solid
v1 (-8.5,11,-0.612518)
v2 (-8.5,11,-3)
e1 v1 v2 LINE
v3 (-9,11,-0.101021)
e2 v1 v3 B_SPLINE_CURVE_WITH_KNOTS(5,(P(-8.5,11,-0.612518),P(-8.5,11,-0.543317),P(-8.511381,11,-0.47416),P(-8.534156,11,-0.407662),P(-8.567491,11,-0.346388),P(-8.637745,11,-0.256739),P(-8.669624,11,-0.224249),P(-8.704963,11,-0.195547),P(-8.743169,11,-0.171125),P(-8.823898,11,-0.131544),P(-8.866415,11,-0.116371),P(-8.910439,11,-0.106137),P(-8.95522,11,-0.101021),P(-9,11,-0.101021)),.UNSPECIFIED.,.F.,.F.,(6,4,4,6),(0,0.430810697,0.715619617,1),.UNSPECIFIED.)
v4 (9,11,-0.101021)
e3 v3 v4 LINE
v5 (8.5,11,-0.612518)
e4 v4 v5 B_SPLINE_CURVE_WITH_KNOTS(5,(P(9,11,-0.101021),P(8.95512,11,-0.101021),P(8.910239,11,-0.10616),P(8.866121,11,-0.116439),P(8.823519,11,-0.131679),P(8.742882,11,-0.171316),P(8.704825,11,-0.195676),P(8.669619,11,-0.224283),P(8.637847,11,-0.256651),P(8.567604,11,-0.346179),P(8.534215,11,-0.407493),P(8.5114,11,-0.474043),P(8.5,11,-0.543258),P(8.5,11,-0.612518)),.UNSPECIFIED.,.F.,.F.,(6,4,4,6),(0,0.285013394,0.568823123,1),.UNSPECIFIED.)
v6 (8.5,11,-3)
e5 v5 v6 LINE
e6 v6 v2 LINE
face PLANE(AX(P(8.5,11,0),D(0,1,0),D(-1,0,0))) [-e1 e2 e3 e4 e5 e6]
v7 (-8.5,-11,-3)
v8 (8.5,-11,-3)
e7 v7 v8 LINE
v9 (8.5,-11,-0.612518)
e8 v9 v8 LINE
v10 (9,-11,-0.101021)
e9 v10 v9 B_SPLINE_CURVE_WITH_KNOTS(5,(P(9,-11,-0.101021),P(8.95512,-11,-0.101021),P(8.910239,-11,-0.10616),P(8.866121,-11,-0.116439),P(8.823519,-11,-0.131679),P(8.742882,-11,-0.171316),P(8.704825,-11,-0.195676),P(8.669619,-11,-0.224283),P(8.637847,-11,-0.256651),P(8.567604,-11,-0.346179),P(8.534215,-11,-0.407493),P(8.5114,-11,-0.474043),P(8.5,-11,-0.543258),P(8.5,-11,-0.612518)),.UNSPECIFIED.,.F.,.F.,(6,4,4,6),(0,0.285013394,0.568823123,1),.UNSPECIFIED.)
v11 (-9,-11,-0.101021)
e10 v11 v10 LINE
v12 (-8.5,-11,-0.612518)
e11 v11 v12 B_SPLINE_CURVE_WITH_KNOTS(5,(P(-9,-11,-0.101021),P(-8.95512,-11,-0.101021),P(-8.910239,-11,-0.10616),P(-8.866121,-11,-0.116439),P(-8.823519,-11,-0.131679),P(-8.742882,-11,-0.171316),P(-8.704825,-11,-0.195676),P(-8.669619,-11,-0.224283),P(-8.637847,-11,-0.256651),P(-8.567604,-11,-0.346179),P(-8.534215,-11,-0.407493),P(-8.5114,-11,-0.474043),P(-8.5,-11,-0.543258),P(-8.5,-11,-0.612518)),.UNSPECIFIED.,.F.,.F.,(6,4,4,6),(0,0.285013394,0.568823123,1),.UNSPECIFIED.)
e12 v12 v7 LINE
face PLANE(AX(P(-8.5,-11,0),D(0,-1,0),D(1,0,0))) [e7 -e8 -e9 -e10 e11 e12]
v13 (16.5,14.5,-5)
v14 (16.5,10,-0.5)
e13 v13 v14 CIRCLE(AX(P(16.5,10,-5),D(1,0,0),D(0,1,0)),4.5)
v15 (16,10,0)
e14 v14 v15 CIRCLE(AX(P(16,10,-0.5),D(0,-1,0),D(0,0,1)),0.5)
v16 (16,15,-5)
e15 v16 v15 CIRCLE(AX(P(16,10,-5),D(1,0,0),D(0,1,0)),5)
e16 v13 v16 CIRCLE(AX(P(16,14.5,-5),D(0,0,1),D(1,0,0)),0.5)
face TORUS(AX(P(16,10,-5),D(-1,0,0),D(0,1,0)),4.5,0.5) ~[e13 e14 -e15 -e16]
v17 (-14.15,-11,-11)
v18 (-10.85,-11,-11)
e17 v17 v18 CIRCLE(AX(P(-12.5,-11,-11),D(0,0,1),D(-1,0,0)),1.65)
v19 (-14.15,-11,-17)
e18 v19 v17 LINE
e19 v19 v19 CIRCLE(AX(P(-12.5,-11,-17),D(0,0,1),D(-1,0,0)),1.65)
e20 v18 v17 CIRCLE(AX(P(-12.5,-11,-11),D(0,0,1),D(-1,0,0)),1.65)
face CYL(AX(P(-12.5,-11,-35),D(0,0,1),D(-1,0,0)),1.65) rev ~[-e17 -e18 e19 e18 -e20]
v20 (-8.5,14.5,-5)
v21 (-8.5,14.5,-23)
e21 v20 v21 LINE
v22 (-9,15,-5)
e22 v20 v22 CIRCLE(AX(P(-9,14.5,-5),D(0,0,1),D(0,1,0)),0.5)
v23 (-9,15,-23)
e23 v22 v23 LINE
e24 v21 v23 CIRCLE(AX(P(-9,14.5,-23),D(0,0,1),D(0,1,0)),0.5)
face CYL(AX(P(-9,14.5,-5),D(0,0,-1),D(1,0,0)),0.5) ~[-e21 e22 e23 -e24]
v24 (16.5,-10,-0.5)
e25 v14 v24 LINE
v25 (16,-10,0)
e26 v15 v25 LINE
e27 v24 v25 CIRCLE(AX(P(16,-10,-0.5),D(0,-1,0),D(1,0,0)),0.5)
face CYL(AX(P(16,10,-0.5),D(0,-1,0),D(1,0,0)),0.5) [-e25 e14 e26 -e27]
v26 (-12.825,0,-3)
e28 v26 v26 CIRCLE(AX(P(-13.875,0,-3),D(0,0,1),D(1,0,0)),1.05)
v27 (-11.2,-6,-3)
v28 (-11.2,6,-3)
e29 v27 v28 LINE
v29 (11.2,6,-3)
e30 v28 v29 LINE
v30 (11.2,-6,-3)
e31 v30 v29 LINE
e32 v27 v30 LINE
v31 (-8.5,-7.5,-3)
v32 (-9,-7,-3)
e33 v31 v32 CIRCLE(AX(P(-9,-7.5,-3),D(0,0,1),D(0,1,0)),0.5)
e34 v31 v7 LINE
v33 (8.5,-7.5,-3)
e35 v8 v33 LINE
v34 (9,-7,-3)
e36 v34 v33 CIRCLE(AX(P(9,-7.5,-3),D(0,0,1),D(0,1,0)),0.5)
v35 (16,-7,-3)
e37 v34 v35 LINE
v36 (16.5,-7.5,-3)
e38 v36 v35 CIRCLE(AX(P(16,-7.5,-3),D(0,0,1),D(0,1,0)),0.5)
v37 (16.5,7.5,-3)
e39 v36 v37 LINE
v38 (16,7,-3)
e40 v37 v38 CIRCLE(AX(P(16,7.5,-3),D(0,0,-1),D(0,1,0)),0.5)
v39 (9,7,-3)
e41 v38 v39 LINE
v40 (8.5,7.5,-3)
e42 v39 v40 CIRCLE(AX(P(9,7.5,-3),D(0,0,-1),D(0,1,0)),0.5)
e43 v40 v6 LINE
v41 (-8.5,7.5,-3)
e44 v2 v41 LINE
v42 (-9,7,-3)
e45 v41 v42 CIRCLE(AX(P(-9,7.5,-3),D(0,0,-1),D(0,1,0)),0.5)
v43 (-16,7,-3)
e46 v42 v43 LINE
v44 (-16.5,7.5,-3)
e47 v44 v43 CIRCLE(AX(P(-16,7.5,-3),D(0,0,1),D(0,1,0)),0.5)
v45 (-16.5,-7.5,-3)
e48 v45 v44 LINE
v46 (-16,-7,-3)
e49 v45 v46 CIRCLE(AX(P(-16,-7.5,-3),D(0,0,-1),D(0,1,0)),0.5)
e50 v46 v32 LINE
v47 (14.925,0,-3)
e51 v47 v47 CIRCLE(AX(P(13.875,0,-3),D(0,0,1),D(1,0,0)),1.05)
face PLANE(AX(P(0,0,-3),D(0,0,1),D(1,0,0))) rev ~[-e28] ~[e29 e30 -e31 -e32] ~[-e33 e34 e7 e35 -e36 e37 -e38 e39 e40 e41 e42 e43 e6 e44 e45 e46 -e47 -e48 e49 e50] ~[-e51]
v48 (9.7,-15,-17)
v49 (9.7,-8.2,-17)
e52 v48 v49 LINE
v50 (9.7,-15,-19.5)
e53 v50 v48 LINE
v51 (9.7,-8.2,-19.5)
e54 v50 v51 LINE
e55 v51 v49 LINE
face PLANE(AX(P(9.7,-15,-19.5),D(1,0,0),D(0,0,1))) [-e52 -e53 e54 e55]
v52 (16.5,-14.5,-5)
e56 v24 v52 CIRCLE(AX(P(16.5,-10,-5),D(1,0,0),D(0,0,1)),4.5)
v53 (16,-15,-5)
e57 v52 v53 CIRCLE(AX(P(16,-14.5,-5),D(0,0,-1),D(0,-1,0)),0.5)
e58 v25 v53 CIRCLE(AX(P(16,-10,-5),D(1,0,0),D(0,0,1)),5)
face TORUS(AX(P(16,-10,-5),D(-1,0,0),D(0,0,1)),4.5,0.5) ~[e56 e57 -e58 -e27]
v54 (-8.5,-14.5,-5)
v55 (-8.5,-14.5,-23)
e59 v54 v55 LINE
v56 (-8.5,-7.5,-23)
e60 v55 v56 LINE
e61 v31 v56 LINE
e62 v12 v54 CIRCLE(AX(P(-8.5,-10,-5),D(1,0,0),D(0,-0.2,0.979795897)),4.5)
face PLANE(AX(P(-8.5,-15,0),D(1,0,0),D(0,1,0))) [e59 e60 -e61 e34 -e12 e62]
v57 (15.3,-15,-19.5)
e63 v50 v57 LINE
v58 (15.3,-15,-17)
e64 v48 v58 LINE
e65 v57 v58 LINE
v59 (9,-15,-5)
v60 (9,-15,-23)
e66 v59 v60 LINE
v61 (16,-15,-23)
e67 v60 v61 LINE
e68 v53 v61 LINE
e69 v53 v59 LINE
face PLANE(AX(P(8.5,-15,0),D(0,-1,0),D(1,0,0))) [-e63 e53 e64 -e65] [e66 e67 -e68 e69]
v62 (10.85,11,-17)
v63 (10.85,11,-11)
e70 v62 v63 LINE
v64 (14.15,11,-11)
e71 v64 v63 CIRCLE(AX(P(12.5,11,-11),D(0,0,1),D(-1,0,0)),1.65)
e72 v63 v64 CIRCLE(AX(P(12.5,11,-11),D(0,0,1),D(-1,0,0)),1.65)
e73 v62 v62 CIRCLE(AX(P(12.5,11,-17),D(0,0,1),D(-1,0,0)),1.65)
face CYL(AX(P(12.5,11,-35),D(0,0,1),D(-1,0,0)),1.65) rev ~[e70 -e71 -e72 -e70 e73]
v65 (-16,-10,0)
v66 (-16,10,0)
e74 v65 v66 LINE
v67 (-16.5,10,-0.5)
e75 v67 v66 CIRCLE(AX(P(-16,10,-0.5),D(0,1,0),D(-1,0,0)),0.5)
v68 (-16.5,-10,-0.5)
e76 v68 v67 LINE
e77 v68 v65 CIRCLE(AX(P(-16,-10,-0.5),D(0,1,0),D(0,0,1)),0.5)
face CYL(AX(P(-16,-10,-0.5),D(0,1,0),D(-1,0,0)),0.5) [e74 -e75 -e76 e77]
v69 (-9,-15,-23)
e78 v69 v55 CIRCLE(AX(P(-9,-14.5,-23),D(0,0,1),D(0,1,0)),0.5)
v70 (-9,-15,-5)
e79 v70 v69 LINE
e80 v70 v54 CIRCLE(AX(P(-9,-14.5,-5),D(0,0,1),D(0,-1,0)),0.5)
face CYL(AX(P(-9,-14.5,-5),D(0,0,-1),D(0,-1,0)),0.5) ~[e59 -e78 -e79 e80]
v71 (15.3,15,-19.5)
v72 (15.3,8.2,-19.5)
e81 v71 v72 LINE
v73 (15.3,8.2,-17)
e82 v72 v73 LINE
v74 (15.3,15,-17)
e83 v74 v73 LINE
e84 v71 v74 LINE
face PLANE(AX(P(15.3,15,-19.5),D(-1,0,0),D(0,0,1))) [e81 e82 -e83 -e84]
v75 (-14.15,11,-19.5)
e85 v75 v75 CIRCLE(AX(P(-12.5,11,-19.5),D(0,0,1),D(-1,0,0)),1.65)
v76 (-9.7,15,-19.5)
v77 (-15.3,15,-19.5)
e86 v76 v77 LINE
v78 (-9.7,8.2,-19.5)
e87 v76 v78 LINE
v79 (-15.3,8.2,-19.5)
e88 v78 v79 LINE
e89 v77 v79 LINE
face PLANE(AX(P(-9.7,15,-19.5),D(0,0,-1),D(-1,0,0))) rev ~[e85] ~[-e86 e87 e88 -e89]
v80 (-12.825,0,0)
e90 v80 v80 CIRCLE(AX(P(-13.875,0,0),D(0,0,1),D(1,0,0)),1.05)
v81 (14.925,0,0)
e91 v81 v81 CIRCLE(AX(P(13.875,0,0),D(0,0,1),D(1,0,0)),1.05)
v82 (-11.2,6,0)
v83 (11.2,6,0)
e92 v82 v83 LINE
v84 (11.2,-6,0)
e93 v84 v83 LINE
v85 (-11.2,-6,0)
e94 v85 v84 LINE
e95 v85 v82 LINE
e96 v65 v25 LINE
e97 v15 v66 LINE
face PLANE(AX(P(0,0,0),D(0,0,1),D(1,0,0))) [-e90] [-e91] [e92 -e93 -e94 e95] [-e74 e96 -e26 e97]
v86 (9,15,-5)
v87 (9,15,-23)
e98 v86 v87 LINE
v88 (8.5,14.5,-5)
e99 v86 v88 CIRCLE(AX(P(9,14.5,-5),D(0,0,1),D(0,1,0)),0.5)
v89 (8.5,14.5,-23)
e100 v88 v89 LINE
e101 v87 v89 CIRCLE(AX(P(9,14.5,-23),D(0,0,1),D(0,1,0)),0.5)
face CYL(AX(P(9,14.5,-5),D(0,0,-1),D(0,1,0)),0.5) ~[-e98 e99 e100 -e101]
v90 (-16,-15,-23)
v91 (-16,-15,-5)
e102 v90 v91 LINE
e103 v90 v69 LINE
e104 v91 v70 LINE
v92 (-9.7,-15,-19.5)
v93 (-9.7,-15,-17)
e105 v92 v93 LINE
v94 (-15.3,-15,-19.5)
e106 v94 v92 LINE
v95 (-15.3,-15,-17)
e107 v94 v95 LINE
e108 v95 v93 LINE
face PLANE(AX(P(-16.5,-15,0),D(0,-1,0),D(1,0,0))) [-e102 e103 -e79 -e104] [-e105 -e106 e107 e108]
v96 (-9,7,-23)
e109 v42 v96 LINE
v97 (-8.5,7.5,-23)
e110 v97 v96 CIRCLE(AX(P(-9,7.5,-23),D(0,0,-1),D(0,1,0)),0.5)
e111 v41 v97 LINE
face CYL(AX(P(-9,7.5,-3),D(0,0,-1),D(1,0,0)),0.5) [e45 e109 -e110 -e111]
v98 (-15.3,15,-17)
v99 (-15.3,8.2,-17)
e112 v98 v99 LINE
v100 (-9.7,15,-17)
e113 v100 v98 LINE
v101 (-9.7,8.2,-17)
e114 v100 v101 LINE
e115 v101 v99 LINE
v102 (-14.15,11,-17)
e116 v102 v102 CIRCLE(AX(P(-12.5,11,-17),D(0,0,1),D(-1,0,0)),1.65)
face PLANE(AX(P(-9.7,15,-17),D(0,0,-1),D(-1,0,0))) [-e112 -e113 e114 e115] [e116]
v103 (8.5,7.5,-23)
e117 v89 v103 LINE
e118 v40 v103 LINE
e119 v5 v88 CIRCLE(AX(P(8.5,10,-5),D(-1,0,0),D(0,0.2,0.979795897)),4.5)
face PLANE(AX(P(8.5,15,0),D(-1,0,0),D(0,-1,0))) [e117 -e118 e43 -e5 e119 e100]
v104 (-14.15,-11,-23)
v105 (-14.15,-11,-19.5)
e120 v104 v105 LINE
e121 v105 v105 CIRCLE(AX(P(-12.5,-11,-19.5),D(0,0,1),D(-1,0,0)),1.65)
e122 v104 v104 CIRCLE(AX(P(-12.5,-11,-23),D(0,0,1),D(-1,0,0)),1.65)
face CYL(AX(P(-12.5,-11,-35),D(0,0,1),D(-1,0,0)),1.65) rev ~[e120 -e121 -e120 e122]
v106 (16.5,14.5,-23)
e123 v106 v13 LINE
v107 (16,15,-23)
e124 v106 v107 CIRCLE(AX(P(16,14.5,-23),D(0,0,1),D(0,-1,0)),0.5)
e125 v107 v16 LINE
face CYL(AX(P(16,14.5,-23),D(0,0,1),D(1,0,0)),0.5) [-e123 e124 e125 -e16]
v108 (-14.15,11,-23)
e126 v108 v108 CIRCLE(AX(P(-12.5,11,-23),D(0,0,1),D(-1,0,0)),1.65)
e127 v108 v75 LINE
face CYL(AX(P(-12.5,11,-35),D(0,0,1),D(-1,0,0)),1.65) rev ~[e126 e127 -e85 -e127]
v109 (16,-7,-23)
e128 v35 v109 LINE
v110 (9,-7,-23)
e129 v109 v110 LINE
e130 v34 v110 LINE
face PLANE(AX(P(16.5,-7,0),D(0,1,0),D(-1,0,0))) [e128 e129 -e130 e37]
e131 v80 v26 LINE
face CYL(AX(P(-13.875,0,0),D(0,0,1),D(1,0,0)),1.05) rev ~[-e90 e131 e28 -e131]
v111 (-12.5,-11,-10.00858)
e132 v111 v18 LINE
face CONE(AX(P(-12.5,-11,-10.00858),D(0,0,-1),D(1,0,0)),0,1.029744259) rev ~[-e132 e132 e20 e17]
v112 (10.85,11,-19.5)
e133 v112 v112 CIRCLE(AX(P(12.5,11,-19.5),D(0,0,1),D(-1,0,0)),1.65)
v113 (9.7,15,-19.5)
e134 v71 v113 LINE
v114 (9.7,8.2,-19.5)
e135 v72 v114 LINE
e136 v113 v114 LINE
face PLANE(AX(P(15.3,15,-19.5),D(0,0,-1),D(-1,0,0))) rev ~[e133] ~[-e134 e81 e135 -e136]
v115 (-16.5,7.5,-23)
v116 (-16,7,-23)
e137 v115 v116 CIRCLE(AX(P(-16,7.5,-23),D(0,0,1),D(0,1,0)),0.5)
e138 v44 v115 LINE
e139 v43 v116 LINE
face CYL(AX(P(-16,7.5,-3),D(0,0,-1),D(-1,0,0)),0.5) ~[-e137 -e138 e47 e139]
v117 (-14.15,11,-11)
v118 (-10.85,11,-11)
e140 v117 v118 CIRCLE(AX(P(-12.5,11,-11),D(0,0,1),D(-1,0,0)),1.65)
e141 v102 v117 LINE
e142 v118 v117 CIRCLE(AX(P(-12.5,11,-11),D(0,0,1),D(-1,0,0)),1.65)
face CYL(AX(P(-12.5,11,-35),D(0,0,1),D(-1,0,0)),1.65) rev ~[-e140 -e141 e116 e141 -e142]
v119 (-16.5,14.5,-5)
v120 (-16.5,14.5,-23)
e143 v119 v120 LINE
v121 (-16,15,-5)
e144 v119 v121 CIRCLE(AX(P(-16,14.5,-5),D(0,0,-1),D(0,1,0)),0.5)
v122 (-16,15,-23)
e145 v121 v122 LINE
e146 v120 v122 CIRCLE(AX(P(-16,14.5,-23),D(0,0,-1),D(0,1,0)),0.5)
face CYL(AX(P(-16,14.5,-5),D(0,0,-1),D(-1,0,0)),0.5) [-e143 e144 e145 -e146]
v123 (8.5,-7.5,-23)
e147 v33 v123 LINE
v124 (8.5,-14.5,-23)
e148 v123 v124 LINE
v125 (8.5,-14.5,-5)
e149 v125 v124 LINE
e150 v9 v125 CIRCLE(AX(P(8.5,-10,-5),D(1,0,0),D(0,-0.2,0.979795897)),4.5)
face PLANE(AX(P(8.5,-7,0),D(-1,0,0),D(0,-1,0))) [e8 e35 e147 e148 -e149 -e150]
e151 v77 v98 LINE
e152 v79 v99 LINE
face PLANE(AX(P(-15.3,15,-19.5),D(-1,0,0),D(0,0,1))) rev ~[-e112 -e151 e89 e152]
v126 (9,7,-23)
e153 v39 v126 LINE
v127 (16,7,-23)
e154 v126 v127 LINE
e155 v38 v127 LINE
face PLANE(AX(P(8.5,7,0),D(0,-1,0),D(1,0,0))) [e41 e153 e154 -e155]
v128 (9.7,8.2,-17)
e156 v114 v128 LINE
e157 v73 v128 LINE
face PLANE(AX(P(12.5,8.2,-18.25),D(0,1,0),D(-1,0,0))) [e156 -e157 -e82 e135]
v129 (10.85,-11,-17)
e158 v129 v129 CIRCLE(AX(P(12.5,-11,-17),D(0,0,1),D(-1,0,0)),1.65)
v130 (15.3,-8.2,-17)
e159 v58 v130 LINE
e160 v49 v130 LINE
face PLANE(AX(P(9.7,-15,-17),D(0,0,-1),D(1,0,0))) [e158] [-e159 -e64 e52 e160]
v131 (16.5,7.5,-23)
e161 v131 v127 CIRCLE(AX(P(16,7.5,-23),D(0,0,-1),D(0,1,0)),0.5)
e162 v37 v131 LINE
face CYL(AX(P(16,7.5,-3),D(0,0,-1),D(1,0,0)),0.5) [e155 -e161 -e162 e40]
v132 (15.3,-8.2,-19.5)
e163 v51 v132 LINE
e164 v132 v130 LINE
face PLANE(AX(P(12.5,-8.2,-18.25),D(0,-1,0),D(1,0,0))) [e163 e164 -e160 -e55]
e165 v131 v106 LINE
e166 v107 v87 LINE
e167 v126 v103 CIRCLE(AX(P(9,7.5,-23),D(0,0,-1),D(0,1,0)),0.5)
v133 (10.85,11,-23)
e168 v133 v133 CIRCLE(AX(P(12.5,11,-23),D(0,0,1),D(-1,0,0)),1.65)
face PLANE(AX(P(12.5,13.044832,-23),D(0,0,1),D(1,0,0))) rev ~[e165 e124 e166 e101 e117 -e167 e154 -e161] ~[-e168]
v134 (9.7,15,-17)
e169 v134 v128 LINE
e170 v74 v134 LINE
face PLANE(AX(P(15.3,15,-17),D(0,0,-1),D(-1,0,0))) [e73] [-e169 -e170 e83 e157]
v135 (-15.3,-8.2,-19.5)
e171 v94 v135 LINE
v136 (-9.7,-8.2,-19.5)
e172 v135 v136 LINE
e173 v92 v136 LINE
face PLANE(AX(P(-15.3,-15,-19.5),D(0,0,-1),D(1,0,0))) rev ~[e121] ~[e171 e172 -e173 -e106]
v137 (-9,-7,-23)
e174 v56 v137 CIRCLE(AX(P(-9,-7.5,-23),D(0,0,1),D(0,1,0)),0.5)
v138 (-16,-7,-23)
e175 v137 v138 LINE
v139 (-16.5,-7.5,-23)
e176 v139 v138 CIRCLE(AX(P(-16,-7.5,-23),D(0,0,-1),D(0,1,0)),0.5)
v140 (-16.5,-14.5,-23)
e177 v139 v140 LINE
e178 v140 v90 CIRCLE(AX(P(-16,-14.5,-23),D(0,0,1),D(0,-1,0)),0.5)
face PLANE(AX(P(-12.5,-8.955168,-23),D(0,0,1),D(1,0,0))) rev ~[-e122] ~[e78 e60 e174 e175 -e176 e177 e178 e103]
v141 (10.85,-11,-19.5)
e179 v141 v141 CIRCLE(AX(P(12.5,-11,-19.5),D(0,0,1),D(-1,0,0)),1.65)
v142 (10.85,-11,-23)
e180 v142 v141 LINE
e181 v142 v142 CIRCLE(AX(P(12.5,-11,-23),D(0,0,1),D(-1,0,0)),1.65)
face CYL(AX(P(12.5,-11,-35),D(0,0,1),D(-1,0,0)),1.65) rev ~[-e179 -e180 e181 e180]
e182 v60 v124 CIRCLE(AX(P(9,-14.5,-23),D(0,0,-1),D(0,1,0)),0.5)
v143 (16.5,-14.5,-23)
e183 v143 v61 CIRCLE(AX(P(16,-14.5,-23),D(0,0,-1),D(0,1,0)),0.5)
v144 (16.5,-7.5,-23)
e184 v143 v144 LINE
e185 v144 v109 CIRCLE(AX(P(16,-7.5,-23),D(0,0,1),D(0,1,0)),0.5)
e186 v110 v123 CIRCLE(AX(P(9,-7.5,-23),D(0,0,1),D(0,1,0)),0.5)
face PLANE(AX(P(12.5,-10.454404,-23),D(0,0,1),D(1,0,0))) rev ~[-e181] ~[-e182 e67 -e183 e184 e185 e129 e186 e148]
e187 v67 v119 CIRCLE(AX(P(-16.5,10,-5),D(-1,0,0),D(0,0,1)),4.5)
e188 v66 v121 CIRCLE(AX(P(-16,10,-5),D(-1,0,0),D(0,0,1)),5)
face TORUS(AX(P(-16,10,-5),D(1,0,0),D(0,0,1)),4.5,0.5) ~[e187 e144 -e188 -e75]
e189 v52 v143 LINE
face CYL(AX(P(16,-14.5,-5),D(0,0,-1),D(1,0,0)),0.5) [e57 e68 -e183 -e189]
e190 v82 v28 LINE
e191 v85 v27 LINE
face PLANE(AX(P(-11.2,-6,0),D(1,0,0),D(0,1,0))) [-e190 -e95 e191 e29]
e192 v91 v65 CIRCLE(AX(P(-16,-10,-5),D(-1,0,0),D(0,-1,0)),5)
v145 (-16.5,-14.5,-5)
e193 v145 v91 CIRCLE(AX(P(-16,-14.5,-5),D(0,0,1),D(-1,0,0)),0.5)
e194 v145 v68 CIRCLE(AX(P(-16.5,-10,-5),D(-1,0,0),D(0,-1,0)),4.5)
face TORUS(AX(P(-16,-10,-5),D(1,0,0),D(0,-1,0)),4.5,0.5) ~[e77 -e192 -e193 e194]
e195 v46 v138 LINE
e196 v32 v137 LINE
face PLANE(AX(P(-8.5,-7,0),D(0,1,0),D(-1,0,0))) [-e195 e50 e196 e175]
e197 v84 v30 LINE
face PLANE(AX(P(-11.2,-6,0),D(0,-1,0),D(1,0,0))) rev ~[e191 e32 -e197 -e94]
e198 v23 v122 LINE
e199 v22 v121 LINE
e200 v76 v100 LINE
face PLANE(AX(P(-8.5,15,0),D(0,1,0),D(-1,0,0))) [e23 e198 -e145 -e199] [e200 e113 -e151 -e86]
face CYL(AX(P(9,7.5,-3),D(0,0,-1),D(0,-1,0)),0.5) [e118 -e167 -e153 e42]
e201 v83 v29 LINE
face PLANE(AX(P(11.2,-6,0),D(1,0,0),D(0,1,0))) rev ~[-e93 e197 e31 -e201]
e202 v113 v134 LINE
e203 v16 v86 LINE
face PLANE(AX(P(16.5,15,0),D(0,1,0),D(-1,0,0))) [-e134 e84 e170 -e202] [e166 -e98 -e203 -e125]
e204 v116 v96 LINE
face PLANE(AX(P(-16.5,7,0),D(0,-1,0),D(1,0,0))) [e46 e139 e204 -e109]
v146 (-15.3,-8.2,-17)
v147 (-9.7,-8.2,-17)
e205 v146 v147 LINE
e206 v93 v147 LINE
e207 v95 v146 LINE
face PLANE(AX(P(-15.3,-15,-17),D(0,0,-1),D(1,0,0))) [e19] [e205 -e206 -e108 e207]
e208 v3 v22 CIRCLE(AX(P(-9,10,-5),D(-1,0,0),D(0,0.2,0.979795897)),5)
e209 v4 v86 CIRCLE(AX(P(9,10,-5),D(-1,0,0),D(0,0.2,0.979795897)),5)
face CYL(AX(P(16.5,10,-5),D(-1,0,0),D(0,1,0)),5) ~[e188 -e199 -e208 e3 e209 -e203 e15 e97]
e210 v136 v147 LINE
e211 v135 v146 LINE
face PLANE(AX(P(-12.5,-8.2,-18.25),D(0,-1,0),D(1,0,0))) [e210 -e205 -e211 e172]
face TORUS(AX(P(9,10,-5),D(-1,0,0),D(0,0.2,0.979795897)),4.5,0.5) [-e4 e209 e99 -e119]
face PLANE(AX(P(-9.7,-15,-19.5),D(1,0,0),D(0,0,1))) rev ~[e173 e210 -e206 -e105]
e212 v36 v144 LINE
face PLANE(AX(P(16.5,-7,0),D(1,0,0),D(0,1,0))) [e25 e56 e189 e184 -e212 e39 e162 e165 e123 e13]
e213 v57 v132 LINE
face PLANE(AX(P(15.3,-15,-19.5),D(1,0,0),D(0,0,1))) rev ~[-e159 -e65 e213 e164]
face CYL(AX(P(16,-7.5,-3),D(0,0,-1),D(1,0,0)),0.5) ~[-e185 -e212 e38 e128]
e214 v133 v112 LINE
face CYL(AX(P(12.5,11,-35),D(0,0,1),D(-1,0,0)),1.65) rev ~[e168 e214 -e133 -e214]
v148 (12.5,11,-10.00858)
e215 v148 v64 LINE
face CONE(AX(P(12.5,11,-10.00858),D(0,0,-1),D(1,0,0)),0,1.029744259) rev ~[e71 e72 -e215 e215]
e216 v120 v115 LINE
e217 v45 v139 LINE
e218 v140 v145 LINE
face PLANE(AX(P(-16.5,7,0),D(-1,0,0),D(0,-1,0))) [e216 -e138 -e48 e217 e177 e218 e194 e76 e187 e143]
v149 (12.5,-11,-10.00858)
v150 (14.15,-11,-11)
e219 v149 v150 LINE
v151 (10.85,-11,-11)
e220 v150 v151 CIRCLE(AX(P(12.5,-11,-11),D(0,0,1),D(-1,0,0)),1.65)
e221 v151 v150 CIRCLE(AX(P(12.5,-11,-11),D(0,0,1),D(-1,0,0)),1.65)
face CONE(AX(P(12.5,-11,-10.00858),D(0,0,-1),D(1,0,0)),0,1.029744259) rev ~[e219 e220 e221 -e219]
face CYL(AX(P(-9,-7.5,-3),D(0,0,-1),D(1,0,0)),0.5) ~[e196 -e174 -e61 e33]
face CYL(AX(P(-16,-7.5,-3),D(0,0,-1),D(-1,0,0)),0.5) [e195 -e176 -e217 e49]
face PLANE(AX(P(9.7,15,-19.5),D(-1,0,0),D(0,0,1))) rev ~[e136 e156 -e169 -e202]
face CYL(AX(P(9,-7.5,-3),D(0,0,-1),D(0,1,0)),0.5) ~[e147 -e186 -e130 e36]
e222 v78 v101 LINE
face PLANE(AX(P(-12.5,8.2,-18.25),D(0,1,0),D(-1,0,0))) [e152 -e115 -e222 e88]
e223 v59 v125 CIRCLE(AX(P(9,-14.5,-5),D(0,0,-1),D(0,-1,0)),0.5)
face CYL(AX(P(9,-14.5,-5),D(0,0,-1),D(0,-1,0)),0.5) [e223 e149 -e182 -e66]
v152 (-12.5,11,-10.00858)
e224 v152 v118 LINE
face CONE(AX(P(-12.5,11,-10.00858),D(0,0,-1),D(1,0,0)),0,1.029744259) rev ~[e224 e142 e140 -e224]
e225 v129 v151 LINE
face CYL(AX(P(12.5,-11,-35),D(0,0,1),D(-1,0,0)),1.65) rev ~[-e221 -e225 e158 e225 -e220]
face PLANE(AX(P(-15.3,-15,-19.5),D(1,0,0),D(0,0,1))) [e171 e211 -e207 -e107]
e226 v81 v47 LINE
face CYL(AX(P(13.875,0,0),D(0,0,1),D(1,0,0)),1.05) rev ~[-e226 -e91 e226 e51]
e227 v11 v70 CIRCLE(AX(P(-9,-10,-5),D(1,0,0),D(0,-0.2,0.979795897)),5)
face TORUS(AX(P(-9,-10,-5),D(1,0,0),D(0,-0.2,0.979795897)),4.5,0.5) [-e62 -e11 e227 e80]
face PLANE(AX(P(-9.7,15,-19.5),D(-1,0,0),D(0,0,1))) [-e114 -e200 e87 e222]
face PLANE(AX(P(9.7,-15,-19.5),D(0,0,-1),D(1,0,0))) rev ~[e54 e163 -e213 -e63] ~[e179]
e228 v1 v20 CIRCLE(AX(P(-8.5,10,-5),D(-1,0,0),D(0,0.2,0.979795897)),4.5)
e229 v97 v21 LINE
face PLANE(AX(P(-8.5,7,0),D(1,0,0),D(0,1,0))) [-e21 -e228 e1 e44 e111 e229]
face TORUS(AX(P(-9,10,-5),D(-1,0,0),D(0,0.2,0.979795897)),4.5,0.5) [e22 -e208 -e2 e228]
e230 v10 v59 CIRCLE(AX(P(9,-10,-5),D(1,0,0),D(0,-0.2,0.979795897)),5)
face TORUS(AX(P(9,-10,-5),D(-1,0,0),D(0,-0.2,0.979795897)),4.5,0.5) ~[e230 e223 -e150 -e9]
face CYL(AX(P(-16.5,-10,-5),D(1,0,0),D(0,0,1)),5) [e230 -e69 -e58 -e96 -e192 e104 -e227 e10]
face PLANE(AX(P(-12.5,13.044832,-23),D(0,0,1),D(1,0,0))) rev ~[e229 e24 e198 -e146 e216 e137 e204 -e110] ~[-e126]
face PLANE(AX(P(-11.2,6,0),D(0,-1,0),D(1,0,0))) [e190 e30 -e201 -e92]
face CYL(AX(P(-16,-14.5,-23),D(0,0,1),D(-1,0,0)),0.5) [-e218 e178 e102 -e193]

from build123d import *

# Parameters (mm, degrees)
F1_DEPTH = 23
F0_R     = 1.05
F0_W     = 22.4
F0_H     = 12
F2_DEPTH = 3
F4_D     = 3.3
F4_DEPTH = 12
F4_TIP   = 0.9914200214
F5_W     = 5.6
F5_H     = 2.5
F7_DEPTH = 6.8
F6_W     = 5.6
F6_H     = 2.5
F8_DEPTH = 6.8
F9_R     = 5
F10_R    = 0.5


with BuildPart() as f1:
    # F0 (on Top) → F1 (new body)
    with BuildSketch(Plane.XY):
        with BuildLine():
            Line((-10.925, 11), (-8.5, 11))
            Line((-8.5, 11), (-8.5, 15))
            Line((-8.5, 15), (-16.5, 15))
            Line((-16.5, 15), (-16.5, 11))
            Line((-16.5, 11), (-14.075, 11))
            ThreePointArc((-14.075, 11), (-12.5, 12.575), (-10.925, 11))
        make_face()
        with BuildLine():
            Line((-14.075, 11), (-10.925, 11))
            ThreePointArc((-10.925, 11), (-12.5, 12.575), (-14.075, 11))
        make_face()
        with BuildLine():
            ThreePointArc((-14.075, 11), (-12.5, 9.425), (-10.925, 11))
            Line((-10.925, 11), (-14.075, 11))
        make_face()
        with BuildLine():
            Line((-8.5, 7), (-8.5, 11))
            Line((-8.5, 11), (-10.925, 11))
            ThreePointArc((-10.925, 11), (-12.5, 9.425), (-14.075, 11))
            Line((-14.075, 11), (-16.5, 11))
            Line((-16.5, 11), (-16.5, 7))
            Line((-16.5, 7), (-8.5, 7))
        make_face()
    extrude(amount=-F1_DEPTH)



with BuildPart() as f1b:
    # F0 (on Top) → F1, piece 2 (new body)
    with BuildSketch(Plane.XY):
        with BuildLine():
            Line((14.075, 11), (16.5, 11))
            Line((16.5, 11), (16.5, 15))
            Line((16.5, 15), (8.5, 15))
            Line((8.5, 15), (8.5, 11))
            Line((8.5, 11), (10.925, 11))
            ThreePointArc((10.925, 11), (12.5, 12.575), (14.075, 11))
        make_face()
        with BuildLine():
            Line((10.925, 11), (14.075, 11))
            ThreePointArc((14.075, 11), (12.5, 12.575), (10.925, 11))
        make_face()
        with BuildLine():
            ThreePointArc((10.925, 11), (12.5, 9.425), (14.075, 11))
            Line((14.075, 11), (10.925, 11))
        make_face()
        with BuildLine():
            Line((8.5, 7), (16.5, 7))
            Line((16.5, 7), (16.5, 11))
            Line((16.5, 11), (14.075, 11))
            ThreePointArc((14.075, 11), (12.5, 9.425), (10.925, 11))
            Line((10.925, 11), (8.5, 11))
            Line((8.5, 11), (8.5, 7))
        make_face()
    extrude(amount=-F1_DEPTH)


with BuildPart() as f1c:
    # F0 (on Top) → F1, piece 3 (new body)
    with BuildSketch(Plane.XY):
        with BuildLine():
            Line((-10.925, -11), (-8.5, -11))
            Line((-8.5, -11), (-8.5, -7))
            Line((-8.5, -7), (-16.5, -7))
            Line((-16.5, -7), (-16.5, -11))
            Line((-16.5, -11), (-14.075, -11))
            ThreePointArc((-14.075, -11), (-12.5, -9.425), (-10.925, -11))
        make_face()
        with BuildLine():
            Line((-14.075, -11), (-10.925, -11))
            ThreePointArc((-10.925, -11), (-12.5, -9.425), (-14.075, -11))
        make_face()
        with BuildLine():
            ThreePointArc((-14.075, -11), (-12.5, -12.575), (-10.925, -11))
            Line((-10.925, -11), (-14.075, -11))
        make_face()
        with BuildLine():
            Line((-8.5, -15), (-8.5, -11))
            Line((-8.5, -11), (-10.925, -11))
            ThreePointArc((-10.925, -11), (-12.5, -12.575), (-14.075, -11))
            Line((-14.075, -11), (-16.5, -11))
            Line((-16.5, -11), (-16.5, -15))
            Line((-16.5, -15), (-8.5, -15))
        make_face()
    extrude(amount=-F1_DEPTH)


with BuildPart() as f1d:
    # F0 (on Top) → F1, piece 4 (new body)
    with BuildSketch(Plane.XY):
        with BuildLine():
            Line((10.925, -11), (14.075, -11))
            ThreePointArc((14.075, -11), (12.5, -9.425), (10.925, -11))
        make_face()
        with BuildLine():
            ThreePointArc((10.925, -11), (12.5, -12.575), (14.075, -11))
            Line((14.075, -11), (10.925, -11))
        make_face()
        with BuildLine():
            Line((14.075, -11), (16.5, -11))
            Line((16.5, -11), (16.5, -7))
            Line((16.5, -7), (8.5, -7))
            Line((8.5, -7), (8.5, -11))
            Line((8.5, -11), (10.925, -11))
            ThreePointArc((10.925, -11), (12.5, -9.425), (14.075, -11))
        make_face()
        with BuildLine():
            Line((16.5, -15), (16.5, -11))
            Line((16.5, -11), (14.075, -11))
            ThreePointArc((14.075, -11), (12.5, -12.575), (10.925, -11))
            Line((10.925, -11), (8.5, -11))
            Line((8.5, -11), (8.5, -15))
            Line((8.5, -15), (16.5, -15))
        make_face()
    extrude(amount=-F1_DEPTH)


with BuildPart() as f1_1:
    add(f1.part)

    add(f1b.part)  # F2 merges F1b

    add(f1c.part)  # F2 merges F1c

    add(f1d.part)  # F2 merges F1d
    # F0 (on Top) → F2 (join)
    with BuildSketch(Plane.XY):
        Polygon((8.5, -7), (16.5, -7), (16.5, 7), (8.5, 7), (8.5, 11), (-8.5, 11), (-8.5, 7), (-16.5, 7), (-16.5, -7), (-8.5, -7), (-8.5, -11), (8.5, -11), align=None)
        with Locations((-13.875, 0)):
            Circle(F0_R, mode=Mode.SUBTRACT)
        Rectangle(F0_W, F0_H, mode=Mode.SUBTRACT)
        with Locations((13.875, 0)):
            Circle(F0_R, mode=Mode.SUBTRACT)
    extrude(amount=-F2_DEPTH)

    # F4
    with Locations(Plane(origin=(0, 0, -23), x_dir=(1, 0, 0), z_dir=(0, 0, -1))):
        with Locations((-12.5, 11), (12.5, 11), (-12.5, -11), (12.5, -11)):
            Hole(F4_D / 2, depth=F4_DEPTH)
            with Locations((0, 0, -(F4_DEPTH + F4_TIP / 2))):  # 118° drill point
                Cone(0, F4_D / 2, F4_TIP, mode=Mode.SUBTRACT)

    # F5 (on face) → F7 (cut)
    with BuildSketch(Plane.XZ.offset(15)):
        with Locations((-12.5, -18.25)):
            Rectangle(F5_W, F5_H)
        with Locations((12.5, -18.25)):
            Rectangle(F5_W, F5_H)
    extrude(amount=-F7_DEPTH, mode=Mode.SUBTRACT)

    # F6 (on face) → F8 (cut)
    with BuildSketch(Plane(origin=(0, 15, 0), x_dir=(-1, 0, 0), z_dir=(0, 1, 0))):
        with Locations((-12.5, -18.25)):
            Rectangle(F6_W, F6_H)
        with Locations((12.5, -18.25)):
            Rectangle(F6_W, F6_H)
    extrude(amount=-F8_DEPTH, mode=Mode.SUBTRACT)

    # F9
    f9_edges = [f1_1.edges().sort_by_distance(p)[0] for p in [
        (12.5, 15, 0),
        (-12.5, -15, 0),
    ]]
    fillet(f9_edges, radius=F9_R)

    # F10
    f10_edges = [f1_1.edges().sort_by_distance(p)[0] for p in [
        (16.5, -15, -14),
        (16.5, -7, -13),
        (-8.5, -15, -14),
        (16.5, 7, -13),
        (-16.5, 15, -14),
        (-8.5, 15, -14),
        (8.5, 15, -14),
        (8.5, -7, -13),
        (8.5, 7, -13),
        (-8.5, 7, -13),
        (-8.5, -7, -13),
        (-16.5, 7, -13),
        (-16.5, -7, -13),
        (8.5, -15, -14),
    ]]
    fillet(f10_edges, radius=F10_R)


solid = f1_1.part
